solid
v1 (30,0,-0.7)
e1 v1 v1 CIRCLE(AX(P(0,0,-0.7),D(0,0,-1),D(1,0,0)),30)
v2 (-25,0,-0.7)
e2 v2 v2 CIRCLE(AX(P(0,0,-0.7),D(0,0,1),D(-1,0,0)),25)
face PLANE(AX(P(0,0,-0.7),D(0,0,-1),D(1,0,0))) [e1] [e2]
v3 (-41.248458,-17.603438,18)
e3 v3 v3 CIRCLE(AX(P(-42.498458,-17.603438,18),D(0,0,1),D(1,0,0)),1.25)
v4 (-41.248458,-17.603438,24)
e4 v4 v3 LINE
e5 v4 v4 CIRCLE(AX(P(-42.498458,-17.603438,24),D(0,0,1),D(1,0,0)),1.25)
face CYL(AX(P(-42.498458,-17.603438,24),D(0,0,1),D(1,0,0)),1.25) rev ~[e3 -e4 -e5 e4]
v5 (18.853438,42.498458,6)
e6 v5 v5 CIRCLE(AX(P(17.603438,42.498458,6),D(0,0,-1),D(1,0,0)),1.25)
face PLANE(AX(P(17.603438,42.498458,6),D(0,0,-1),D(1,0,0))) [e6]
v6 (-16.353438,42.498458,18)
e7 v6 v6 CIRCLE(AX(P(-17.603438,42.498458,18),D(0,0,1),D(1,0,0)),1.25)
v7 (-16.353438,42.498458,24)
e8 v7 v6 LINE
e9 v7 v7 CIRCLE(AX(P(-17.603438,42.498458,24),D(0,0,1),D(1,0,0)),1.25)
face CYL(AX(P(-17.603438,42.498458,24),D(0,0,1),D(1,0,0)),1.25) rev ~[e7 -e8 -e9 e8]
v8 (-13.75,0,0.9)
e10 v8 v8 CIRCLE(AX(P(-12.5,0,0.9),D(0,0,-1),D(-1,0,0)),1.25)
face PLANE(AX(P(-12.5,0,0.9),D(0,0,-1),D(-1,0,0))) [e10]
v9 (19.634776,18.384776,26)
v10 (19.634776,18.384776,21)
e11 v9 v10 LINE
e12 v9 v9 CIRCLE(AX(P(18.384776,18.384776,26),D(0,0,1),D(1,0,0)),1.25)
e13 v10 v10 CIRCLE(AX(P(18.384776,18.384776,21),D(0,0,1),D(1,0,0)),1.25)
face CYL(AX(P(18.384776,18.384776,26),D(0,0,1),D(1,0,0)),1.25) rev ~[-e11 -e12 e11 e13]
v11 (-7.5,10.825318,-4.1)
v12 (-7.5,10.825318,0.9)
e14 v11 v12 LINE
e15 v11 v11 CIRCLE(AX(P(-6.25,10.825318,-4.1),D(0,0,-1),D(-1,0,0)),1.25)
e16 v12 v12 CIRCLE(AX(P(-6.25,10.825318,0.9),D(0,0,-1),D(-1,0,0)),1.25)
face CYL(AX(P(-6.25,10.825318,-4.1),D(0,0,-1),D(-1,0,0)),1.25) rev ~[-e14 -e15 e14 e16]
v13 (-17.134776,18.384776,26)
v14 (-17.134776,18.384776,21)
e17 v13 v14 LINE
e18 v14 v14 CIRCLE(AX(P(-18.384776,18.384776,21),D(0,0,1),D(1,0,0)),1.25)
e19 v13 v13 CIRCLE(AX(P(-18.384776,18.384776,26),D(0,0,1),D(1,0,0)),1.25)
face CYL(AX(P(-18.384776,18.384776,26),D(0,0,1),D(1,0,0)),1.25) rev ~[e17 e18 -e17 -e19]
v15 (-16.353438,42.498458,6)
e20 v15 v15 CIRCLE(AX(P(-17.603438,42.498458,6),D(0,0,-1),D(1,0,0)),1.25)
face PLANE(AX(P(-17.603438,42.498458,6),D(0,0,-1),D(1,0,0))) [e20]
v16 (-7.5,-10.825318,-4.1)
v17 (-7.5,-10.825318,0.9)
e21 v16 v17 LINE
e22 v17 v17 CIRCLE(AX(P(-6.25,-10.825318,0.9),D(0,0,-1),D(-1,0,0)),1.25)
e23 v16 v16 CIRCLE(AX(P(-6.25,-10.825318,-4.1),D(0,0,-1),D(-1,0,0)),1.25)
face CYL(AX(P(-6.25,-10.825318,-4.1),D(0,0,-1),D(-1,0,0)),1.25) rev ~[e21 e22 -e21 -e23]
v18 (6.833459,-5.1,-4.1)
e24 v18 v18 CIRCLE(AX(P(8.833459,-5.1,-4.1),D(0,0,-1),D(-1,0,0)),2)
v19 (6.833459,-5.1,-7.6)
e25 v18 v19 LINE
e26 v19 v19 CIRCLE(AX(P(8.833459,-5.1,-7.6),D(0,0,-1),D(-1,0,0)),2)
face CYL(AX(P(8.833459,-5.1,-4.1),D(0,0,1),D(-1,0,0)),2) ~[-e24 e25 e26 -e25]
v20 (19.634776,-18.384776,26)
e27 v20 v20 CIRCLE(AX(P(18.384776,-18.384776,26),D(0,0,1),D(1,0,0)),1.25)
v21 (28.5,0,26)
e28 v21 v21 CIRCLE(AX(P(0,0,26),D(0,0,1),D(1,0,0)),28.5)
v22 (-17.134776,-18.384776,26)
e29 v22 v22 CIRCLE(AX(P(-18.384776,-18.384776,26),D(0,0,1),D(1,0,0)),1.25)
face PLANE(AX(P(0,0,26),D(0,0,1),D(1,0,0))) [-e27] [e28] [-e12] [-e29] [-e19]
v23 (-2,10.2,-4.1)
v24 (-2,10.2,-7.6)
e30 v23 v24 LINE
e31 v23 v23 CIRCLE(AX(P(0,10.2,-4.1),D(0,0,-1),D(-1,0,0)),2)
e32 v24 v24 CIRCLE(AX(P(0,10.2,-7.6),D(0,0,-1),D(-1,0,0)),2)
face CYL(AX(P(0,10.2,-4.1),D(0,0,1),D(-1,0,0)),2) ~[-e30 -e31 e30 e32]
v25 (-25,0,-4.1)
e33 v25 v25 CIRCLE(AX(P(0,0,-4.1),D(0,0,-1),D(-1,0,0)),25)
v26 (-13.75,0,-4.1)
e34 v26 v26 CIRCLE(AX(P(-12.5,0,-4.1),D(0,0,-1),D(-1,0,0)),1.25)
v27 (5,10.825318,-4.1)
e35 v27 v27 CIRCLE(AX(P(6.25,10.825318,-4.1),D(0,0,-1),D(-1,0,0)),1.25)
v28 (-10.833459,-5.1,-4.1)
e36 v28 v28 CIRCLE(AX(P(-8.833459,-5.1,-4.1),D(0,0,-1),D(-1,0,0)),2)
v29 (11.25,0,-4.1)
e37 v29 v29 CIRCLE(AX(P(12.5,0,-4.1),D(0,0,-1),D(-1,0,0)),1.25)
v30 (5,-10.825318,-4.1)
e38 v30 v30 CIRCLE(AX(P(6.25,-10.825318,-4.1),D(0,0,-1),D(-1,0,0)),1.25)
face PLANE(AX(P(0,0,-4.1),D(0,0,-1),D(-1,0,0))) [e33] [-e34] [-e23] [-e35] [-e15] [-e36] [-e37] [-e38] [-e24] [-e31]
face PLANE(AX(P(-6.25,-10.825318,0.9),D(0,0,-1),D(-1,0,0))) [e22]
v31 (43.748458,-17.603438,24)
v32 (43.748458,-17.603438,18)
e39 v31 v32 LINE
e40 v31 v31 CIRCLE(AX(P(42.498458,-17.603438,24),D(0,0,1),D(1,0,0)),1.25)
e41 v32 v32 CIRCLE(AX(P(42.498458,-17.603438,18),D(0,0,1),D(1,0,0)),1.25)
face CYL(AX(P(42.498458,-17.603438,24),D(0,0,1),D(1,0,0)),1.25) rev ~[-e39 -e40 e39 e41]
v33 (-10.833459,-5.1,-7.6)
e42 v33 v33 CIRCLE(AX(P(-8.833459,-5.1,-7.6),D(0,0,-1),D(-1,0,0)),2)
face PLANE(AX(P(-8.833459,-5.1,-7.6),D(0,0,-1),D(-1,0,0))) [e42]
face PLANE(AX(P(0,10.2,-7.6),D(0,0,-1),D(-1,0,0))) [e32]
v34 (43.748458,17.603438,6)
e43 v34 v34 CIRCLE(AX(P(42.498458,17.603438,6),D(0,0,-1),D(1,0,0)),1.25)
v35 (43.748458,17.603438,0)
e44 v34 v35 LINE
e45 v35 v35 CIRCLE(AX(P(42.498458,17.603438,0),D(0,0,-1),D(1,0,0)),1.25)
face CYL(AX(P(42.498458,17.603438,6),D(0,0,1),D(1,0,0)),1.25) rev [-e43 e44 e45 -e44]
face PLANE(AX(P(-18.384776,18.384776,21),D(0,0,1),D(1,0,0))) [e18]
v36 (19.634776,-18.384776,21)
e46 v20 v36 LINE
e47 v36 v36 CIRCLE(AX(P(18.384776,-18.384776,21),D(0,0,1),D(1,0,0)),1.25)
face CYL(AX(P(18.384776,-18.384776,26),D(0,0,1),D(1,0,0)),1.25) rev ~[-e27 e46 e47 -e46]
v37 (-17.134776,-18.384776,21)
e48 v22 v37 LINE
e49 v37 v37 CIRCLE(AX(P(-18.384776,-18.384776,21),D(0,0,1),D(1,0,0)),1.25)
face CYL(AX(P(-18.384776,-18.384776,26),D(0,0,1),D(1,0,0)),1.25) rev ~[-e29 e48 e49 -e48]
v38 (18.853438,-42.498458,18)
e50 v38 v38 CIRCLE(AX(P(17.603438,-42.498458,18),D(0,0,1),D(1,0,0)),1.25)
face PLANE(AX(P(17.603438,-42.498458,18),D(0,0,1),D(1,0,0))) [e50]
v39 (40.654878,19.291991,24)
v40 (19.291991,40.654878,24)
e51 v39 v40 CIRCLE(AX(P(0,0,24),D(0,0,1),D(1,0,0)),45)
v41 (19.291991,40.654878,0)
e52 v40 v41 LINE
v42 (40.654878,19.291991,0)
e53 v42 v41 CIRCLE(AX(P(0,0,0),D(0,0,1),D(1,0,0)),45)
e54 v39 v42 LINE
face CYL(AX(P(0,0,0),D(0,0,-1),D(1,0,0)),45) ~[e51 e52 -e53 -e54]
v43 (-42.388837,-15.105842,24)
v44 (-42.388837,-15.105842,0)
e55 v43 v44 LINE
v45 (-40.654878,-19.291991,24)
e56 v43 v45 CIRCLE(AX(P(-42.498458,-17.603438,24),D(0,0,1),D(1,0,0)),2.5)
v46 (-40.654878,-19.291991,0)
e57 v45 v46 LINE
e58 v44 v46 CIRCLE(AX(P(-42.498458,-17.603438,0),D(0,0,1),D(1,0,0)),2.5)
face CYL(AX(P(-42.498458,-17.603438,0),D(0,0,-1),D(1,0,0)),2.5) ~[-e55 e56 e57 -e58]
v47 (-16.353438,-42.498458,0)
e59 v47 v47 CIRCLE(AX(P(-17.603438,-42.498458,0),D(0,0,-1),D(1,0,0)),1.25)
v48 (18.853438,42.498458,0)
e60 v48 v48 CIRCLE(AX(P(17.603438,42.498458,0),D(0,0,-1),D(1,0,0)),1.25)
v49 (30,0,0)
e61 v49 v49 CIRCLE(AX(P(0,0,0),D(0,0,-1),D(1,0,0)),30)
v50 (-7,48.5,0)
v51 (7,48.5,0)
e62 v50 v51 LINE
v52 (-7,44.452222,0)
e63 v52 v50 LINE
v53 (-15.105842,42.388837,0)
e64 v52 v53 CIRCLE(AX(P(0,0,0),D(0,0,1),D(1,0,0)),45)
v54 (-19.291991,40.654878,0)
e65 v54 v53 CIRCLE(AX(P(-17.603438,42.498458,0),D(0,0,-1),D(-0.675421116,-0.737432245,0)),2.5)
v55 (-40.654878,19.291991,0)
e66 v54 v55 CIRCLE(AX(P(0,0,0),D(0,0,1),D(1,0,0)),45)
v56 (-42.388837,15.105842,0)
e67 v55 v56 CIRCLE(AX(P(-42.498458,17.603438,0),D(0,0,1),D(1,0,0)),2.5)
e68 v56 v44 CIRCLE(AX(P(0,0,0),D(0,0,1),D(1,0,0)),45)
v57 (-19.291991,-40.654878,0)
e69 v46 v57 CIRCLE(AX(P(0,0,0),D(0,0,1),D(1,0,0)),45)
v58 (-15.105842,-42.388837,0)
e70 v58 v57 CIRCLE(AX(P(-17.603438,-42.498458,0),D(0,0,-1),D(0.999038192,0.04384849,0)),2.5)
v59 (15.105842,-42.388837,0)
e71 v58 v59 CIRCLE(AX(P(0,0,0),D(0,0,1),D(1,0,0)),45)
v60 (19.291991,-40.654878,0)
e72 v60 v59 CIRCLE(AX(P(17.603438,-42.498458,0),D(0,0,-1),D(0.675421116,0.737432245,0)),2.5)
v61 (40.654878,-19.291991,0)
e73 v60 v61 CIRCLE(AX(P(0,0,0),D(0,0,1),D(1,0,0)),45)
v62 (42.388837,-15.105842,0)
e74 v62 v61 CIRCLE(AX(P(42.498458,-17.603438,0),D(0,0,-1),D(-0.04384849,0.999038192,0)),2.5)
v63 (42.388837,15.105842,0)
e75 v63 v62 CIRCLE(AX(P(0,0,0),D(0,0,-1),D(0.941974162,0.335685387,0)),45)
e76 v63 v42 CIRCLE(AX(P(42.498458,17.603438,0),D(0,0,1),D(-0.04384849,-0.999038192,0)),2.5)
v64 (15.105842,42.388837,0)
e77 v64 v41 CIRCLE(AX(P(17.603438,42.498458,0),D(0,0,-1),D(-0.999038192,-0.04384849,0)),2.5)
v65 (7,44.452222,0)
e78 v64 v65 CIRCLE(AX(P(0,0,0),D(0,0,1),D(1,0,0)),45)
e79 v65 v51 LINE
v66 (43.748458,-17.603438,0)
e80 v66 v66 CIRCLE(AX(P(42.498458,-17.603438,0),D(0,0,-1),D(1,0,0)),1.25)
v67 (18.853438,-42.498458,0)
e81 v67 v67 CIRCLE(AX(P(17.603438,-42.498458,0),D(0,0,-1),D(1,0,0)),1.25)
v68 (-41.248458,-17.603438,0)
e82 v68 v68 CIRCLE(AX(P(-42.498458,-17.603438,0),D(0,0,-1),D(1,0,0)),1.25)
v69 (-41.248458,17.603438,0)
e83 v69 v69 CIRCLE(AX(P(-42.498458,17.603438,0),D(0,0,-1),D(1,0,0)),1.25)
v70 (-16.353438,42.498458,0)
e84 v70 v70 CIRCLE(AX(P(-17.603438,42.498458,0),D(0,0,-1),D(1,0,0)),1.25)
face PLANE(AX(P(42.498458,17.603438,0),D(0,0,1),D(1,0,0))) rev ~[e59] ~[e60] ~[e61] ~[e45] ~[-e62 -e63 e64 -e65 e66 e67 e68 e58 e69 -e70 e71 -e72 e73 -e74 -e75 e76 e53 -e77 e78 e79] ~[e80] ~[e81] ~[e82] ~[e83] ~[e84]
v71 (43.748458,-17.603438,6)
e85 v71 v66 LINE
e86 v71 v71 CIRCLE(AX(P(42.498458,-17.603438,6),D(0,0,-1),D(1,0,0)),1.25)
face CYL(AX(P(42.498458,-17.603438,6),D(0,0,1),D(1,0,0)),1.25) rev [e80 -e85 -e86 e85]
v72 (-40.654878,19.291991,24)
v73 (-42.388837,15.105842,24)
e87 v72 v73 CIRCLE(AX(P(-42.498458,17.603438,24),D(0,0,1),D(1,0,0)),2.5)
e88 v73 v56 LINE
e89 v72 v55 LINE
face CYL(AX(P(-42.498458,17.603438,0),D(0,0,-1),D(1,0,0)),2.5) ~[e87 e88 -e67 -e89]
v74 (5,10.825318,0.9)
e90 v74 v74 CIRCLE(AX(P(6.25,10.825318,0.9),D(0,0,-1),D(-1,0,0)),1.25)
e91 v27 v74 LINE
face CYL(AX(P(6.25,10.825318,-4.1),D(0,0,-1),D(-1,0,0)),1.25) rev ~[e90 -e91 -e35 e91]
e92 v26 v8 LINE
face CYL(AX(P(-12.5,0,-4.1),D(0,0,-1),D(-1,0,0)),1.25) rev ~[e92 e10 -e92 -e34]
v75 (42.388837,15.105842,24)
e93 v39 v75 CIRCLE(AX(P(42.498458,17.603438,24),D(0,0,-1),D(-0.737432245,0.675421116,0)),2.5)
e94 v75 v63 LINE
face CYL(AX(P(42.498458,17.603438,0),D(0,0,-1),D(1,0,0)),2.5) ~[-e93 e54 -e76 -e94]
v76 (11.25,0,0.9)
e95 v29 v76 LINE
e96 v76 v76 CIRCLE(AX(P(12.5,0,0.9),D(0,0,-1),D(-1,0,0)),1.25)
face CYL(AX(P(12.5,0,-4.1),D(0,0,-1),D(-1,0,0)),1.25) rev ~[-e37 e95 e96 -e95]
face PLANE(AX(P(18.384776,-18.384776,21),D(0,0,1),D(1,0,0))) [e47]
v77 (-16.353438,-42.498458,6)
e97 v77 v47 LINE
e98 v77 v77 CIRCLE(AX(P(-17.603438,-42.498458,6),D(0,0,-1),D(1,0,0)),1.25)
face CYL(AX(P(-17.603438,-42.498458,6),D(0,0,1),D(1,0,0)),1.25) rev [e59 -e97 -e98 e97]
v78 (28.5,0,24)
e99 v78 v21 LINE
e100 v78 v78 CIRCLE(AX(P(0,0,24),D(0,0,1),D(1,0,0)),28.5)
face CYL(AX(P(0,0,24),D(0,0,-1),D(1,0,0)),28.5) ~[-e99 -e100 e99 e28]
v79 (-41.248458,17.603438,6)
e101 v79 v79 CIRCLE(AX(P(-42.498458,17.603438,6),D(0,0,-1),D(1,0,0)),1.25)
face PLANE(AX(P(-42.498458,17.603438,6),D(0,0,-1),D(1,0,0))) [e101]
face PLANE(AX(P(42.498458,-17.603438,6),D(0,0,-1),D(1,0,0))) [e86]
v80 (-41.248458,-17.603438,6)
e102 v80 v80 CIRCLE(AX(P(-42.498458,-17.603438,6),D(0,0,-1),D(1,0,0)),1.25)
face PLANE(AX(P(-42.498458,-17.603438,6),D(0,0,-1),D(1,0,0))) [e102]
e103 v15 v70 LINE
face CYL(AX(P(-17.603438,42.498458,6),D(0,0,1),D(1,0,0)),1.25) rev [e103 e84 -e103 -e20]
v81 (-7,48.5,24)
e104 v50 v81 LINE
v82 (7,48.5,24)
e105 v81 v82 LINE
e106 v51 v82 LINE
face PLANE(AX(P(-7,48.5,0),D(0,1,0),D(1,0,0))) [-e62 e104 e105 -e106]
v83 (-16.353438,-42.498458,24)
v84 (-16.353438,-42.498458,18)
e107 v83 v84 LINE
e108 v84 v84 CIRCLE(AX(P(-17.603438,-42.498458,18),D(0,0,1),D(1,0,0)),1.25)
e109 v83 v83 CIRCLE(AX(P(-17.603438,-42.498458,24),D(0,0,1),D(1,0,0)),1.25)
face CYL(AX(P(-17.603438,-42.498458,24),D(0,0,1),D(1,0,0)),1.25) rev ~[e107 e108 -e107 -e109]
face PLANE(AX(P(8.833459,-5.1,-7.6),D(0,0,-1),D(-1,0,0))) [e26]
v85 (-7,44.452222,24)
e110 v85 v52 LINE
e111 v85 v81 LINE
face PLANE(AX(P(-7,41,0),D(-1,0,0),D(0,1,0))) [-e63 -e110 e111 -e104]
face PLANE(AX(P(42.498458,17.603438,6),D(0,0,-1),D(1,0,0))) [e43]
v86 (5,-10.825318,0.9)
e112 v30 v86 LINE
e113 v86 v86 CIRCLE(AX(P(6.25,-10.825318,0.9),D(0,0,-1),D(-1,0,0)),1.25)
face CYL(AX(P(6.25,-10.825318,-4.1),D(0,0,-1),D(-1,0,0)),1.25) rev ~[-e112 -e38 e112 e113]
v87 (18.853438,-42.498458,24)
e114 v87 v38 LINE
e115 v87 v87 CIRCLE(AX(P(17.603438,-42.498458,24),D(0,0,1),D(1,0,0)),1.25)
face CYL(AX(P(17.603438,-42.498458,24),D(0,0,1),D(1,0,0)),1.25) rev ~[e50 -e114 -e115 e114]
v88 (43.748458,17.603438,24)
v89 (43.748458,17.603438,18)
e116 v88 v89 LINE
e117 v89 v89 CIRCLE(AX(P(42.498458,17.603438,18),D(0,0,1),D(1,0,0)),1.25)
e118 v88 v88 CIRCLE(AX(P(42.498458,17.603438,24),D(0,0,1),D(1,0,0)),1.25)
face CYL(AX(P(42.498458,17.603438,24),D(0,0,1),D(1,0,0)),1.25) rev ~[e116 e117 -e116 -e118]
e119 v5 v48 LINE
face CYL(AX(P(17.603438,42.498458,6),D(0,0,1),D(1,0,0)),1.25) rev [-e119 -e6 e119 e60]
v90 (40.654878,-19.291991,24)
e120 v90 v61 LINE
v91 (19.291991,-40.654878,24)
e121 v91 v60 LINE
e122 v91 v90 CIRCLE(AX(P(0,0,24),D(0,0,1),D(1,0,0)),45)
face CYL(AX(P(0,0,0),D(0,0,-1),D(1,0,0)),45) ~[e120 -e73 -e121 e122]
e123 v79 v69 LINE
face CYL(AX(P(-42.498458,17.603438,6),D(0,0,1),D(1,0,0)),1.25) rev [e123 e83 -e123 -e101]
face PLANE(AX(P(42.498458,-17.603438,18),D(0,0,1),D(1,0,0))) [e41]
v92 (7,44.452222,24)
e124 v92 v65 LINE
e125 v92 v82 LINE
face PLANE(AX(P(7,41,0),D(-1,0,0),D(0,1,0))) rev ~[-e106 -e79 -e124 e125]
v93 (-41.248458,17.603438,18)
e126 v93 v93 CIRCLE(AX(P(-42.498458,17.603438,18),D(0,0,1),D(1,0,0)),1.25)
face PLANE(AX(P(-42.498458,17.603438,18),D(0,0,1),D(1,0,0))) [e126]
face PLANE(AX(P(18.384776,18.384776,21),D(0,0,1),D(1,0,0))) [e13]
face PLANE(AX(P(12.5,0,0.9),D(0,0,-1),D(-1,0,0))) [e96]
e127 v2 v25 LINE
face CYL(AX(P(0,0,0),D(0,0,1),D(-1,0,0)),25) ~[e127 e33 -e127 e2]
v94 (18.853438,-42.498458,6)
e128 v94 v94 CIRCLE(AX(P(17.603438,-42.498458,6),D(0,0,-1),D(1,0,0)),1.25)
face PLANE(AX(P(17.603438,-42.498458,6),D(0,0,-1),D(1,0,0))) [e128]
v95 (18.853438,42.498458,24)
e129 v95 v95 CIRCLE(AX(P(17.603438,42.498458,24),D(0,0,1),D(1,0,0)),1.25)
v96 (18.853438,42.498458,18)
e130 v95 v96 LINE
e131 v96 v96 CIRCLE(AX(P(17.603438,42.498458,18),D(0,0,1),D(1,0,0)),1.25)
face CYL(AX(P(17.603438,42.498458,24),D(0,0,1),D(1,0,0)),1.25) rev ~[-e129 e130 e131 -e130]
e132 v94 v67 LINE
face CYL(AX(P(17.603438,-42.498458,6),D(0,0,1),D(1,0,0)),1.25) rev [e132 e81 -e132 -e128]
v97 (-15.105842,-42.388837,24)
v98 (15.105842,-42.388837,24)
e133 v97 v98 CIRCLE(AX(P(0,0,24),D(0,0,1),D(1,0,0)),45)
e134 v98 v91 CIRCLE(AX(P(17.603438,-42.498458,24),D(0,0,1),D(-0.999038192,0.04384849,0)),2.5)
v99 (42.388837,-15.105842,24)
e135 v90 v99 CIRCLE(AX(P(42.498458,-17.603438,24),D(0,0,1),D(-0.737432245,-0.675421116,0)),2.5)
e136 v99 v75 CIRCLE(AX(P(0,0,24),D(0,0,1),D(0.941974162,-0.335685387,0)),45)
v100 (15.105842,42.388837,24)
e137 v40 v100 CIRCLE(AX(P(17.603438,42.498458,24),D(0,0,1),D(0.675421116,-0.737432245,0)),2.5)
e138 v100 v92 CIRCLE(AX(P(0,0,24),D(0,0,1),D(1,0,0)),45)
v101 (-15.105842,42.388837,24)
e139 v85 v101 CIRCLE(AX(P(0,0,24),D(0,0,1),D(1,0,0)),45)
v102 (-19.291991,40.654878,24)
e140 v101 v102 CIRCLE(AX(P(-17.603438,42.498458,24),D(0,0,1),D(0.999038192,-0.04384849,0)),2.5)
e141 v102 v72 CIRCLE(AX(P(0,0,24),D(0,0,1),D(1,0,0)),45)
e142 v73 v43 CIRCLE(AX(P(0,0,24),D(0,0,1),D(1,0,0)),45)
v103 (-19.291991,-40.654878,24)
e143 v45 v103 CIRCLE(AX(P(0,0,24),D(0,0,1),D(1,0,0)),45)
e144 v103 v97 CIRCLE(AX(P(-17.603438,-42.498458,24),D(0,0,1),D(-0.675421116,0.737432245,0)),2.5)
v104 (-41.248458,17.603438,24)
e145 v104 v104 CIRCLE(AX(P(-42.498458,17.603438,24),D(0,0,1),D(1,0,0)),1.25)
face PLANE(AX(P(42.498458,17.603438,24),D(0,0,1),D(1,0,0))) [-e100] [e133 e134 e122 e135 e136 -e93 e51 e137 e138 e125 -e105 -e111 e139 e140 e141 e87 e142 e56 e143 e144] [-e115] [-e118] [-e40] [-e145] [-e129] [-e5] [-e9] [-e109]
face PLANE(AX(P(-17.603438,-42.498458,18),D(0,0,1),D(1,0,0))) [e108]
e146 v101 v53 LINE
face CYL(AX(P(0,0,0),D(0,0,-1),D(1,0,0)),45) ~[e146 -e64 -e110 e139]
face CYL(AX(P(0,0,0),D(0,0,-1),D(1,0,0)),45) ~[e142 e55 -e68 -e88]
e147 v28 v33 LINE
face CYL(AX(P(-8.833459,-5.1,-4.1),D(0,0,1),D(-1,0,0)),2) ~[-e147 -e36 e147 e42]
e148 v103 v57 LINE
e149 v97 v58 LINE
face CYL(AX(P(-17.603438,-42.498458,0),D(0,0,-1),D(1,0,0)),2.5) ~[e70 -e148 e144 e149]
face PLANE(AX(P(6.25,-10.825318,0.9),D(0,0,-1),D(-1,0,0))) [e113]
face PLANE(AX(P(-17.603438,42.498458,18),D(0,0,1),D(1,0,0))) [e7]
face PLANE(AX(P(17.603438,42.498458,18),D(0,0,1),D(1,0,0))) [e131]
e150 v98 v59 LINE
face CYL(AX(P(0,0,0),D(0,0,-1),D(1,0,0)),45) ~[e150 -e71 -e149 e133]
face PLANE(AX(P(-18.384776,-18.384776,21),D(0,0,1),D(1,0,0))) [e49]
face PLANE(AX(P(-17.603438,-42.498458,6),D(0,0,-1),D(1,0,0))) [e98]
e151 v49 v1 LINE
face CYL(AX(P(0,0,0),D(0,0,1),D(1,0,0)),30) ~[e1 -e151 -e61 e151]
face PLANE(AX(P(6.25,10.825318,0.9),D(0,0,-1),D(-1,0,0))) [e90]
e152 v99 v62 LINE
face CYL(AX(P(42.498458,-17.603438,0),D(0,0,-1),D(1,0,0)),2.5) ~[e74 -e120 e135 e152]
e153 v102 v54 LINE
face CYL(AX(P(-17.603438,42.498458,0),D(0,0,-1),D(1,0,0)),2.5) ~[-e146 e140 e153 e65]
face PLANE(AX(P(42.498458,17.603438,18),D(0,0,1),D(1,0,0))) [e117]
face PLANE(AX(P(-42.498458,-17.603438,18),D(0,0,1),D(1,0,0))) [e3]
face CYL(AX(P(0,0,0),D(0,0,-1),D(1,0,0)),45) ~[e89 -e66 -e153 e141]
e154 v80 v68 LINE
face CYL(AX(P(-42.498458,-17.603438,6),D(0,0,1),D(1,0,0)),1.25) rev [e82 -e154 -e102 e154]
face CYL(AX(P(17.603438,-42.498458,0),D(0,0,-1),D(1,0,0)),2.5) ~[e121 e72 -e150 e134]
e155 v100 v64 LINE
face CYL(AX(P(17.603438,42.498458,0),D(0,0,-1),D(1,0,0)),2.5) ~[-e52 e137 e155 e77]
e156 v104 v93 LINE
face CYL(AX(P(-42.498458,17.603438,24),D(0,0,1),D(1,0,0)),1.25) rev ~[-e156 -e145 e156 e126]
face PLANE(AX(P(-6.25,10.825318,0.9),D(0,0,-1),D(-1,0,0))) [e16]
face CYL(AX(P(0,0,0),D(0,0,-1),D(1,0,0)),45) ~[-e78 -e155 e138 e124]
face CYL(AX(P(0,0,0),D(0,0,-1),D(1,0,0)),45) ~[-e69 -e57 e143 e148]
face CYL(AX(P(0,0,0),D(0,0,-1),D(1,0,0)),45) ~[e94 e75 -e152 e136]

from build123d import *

# Parameters (mm, degrees)
SKETCH1_R              = 45
THAN_CHINH_DEPTH       = 24
SKETCH2_R              = 2.5
VAU_BAT_VIT_DEPTH      = 24
SKETCH3_W              = 14
SKETCH3_H              = 7.5
TAI_RA_DAY_DEPTH       = 24
SKETCH4_R              = 1.25
F_8XM3_MAT_SAU_DEPTH   = 6
F_8XM3_MAT_TRUOC_START = -6
SKETCH5_R              = 1.25
F_8XM3_MAT_TRUOC_DEPTH = 6
SKETCH6_R              = 28.5
ONG_SAU_D57_DEPTH      = 2
SKETCH8_R              = 1.25
F_4XM3_ONG_SAU_DEPTH   = 5
SKETCH9_R              = 30
BAC_D60_DEPTH          = 0.7
SKETCH10_R             = 25
GO_DINH_VI_D50_DEPTH   = 4.1
SKETCH11_R             = 1.25
F_6XM3_DAU_RA_DEPTH    = 5
SKETCH12_R             = 2
F_3XCHOT_D4_DEPTH      = 3.5


with BuildPart() as part:
    # Sketch1 → Than_chinh (new body)
    with BuildSketch(Plane.XY):
        Circle(SKETCH1_R)
    extrude(amount=THAN_CHINH_DEPTH)

    # Sketch2 → Vau_bat_vit (add)
    with BuildSketch(Plane.XY):
        with Locations((42.498458496, 17.603437889)):
            Circle(SKETCH2_R)
        with Locations((17.603437889, 42.498458496)):
            Circle(SKETCH2_R)
        with Locations((-17.603437889, 42.498458496)):
            Circle(SKETCH2_R)
        with Locations((-42.498458496, 17.603437889)):
            Circle(SKETCH2_R)
        with Locations((-42.498458496, -17.603437889)):
            Circle(SKETCH2_R)
        with Locations((-17.603437889, -42.498458496)):
            Circle(SKETCH2_R)
        with Locations((17.603437889, -42.498458496)):
            Circle(SKETCH2_R)
        with Locations((42.498458496, -17.603437889)):
            Circle(SKETCH2_R)
    extrude(amount=VAU_BAT_VIT_DEPTH)

    # Sketch3 → Tai_ra_day (add)
    with BuildSketch(Plane.XY):
        with Locations((0, 44.75)):
            Rectangle(SKETCH3_W, SKETCH3_H)
    extrude(amount=TAI_RA_DAY_DEPTH)

    # Sketch4 → 8xM3_mat_sau (cut)
    with BuildSketch(Plane.XY.offset(24)):
        with Locations((42.498458496, 17.603437889)):
            Circle(SKETCH4_R)
        with Locations((17.603437889, 42.498458496)):
            Circle(SKETCH4_R)
        with Locations((-17.603437889, 42.498458496)):
            Circle(SKETCH4_R)
        with Locations((-42.498458496, 17.603437889)):
            Circle(SKETCH4_R)
        with Locations((-42.498458496, -17.603437889)):
            Circle(SKETCH4_R)
        with Locations((-17.603437889, -42.498458496)):
            Circle(SKETCH4_R)
        with Locations((17.603437889, -42.498458496)):
            Circle(SKETCH4_R)
        with Locations((42.498458496, -17.603437889)):
            Circle(SKETCH4_R)
    extrude(amount=-F_8XM3_MAT_SAU_DEPTH, mode=Mode.SUBTRACT)

    # Sketch5 → 8xM3_mat_truoc (cut)
    with BuildSketch(Plane(origin=(0, 0, 0), x_dir=(-1, 0, 0), z_dir=(0, 0, -1)).offset(F_8XM3_MAT_TRUOC_START)):
        with Locations(Location((-42.498458496, 17.603437889, 0), (0, 0, 180))):
            Circle(SKETCH5_R)
        with Locations(Location((-17.603437889, 42.498458496, 0), (0, 0, 180))):
            Circle(SKETCH5_R)
        with Locations(Location((17.603437889, 42.498458496, 0), (0, 0, 180))):
            Circle(SKETCH5_R)
        with Locations(Location((42.498458496, 17.603437889, 0), (0, 0, 180))):
            Circle(SKETCH5_R)
        with Locations(Location((42.498458496, -17.603437889, 0), (0, 0, 180))):
            Circle(SKETCH5_R)
        with Locations(Location((17.603437889, -42.498458496, 0), (0, 0, 180))):
            Circle(SKETCH5_R)
        with Locations(Location((-17.603437889, -42.498458496, 0), (0, 0, 180))):
            Circle(SKETCH5_R)
        with Locations(Location((-42.498458496, -17.603437889, 0), (0, 0, 180))):
            Circle(SKETCH5_R)
    extrude(amount=F_8XM3_MAT_TRUOC_DEPTH, mode=Mode.SUBTRACT)

    # Sketch6 → Ong_sau_D57 (add)
    with BuildSketch(Plane.XY.offset(24)):
        Circle(SKETCH6_R)
    extrude(amount=ONG_SAU_D57_DEPTH)

    # Sketch8 → 4xM3_ong_sau (cut)
    with BuildSketch(Plane.XY.offset(26)):
        with Locations((18.384776311, 18.384776311)):
            Circle(SKETCH8_R)
        with Locations((-18.384776311, 18.384776311)):
            Circle(SKETCH8_R)
        with Locations((-18.384776311, -18.384776311)):
            Circle(SKETCH8_R)
        with Locations((18.384776311, -18.384776311)):
            Circle(SKETCH8_R)
    extrude(amount=-F_4XM3_ONG_SAU_DEPTH, mode=Mode.SUBTRACT)

    # Sketch9 → Bac_D60 (add)
    with BuildSketch(Plane(origin=(0, 0, 0), x_dir=(-1, 0, 0), z_dir=(0, 0, -1))):
        with Locations(Location((0, 0, 0), (0, 0, 180))):
            Circle(SKETCH9_R)
    extrude(amount=BAC_D60_DEPTH)

    # Sketch10 → Go_dinh_vi_D50 (add)
    with BuildSketch(Plane(origin=(0, 0, 0), x_dir=(-1, 0, 0), z_dir=(0, 0, -1))):
        Circle(SKETCH10_R)
    extrude(amount=GO_DINH_VI_D50_DEPTH)

    # Sketch11 → 6xM3_dau_ra (cut)
    with BuildSketch(Plane(origin=(0, 0, -4.1), x_dir=(-1, 0, 0), z_dir=(0, 0, -1))):
        with Locations((-12.5, 0)):
            Circle(SKETCH11_R)
        with Locations((-6.25, 10.825317547)):
            Circle(SKETCH11_R)
        with Locations((6.25, 10.825317547)):
            Circle(SKETCH11_R)
        with Locations((12.5, 0)):
            Circle(SKETCH11_R)
        with Locations((6.25, -10.825317547)):
            Circle(SKETCH11_R)
        with Locations((-6.25, -10.825317547)):
            Circle(SKETCH11_R)
    extrude(amount=-F_6XM3_DAU_RA_DEPTH, mode=Mode.SUBTRACT)

    # Sketch12 → 3xChot_D4 (add)
    with BuildSketch(Plane(origin=(0, 0, -4.1), x_dir=(-1, 0, 0), z_dir=(0, 0, -1))):
        with Locations((0, 10.2)):
            Circle(SKETCH12_R)
        with Locations((8.833459119, -5.1)):
            Circle(SKETCH12_R)
        with Locations((-8.833459119, -5.1)):
            Circle(SKETCH12_R)
    extrude(amount=F_3XCHOT_D4_DEPTH)


solid = part.part
